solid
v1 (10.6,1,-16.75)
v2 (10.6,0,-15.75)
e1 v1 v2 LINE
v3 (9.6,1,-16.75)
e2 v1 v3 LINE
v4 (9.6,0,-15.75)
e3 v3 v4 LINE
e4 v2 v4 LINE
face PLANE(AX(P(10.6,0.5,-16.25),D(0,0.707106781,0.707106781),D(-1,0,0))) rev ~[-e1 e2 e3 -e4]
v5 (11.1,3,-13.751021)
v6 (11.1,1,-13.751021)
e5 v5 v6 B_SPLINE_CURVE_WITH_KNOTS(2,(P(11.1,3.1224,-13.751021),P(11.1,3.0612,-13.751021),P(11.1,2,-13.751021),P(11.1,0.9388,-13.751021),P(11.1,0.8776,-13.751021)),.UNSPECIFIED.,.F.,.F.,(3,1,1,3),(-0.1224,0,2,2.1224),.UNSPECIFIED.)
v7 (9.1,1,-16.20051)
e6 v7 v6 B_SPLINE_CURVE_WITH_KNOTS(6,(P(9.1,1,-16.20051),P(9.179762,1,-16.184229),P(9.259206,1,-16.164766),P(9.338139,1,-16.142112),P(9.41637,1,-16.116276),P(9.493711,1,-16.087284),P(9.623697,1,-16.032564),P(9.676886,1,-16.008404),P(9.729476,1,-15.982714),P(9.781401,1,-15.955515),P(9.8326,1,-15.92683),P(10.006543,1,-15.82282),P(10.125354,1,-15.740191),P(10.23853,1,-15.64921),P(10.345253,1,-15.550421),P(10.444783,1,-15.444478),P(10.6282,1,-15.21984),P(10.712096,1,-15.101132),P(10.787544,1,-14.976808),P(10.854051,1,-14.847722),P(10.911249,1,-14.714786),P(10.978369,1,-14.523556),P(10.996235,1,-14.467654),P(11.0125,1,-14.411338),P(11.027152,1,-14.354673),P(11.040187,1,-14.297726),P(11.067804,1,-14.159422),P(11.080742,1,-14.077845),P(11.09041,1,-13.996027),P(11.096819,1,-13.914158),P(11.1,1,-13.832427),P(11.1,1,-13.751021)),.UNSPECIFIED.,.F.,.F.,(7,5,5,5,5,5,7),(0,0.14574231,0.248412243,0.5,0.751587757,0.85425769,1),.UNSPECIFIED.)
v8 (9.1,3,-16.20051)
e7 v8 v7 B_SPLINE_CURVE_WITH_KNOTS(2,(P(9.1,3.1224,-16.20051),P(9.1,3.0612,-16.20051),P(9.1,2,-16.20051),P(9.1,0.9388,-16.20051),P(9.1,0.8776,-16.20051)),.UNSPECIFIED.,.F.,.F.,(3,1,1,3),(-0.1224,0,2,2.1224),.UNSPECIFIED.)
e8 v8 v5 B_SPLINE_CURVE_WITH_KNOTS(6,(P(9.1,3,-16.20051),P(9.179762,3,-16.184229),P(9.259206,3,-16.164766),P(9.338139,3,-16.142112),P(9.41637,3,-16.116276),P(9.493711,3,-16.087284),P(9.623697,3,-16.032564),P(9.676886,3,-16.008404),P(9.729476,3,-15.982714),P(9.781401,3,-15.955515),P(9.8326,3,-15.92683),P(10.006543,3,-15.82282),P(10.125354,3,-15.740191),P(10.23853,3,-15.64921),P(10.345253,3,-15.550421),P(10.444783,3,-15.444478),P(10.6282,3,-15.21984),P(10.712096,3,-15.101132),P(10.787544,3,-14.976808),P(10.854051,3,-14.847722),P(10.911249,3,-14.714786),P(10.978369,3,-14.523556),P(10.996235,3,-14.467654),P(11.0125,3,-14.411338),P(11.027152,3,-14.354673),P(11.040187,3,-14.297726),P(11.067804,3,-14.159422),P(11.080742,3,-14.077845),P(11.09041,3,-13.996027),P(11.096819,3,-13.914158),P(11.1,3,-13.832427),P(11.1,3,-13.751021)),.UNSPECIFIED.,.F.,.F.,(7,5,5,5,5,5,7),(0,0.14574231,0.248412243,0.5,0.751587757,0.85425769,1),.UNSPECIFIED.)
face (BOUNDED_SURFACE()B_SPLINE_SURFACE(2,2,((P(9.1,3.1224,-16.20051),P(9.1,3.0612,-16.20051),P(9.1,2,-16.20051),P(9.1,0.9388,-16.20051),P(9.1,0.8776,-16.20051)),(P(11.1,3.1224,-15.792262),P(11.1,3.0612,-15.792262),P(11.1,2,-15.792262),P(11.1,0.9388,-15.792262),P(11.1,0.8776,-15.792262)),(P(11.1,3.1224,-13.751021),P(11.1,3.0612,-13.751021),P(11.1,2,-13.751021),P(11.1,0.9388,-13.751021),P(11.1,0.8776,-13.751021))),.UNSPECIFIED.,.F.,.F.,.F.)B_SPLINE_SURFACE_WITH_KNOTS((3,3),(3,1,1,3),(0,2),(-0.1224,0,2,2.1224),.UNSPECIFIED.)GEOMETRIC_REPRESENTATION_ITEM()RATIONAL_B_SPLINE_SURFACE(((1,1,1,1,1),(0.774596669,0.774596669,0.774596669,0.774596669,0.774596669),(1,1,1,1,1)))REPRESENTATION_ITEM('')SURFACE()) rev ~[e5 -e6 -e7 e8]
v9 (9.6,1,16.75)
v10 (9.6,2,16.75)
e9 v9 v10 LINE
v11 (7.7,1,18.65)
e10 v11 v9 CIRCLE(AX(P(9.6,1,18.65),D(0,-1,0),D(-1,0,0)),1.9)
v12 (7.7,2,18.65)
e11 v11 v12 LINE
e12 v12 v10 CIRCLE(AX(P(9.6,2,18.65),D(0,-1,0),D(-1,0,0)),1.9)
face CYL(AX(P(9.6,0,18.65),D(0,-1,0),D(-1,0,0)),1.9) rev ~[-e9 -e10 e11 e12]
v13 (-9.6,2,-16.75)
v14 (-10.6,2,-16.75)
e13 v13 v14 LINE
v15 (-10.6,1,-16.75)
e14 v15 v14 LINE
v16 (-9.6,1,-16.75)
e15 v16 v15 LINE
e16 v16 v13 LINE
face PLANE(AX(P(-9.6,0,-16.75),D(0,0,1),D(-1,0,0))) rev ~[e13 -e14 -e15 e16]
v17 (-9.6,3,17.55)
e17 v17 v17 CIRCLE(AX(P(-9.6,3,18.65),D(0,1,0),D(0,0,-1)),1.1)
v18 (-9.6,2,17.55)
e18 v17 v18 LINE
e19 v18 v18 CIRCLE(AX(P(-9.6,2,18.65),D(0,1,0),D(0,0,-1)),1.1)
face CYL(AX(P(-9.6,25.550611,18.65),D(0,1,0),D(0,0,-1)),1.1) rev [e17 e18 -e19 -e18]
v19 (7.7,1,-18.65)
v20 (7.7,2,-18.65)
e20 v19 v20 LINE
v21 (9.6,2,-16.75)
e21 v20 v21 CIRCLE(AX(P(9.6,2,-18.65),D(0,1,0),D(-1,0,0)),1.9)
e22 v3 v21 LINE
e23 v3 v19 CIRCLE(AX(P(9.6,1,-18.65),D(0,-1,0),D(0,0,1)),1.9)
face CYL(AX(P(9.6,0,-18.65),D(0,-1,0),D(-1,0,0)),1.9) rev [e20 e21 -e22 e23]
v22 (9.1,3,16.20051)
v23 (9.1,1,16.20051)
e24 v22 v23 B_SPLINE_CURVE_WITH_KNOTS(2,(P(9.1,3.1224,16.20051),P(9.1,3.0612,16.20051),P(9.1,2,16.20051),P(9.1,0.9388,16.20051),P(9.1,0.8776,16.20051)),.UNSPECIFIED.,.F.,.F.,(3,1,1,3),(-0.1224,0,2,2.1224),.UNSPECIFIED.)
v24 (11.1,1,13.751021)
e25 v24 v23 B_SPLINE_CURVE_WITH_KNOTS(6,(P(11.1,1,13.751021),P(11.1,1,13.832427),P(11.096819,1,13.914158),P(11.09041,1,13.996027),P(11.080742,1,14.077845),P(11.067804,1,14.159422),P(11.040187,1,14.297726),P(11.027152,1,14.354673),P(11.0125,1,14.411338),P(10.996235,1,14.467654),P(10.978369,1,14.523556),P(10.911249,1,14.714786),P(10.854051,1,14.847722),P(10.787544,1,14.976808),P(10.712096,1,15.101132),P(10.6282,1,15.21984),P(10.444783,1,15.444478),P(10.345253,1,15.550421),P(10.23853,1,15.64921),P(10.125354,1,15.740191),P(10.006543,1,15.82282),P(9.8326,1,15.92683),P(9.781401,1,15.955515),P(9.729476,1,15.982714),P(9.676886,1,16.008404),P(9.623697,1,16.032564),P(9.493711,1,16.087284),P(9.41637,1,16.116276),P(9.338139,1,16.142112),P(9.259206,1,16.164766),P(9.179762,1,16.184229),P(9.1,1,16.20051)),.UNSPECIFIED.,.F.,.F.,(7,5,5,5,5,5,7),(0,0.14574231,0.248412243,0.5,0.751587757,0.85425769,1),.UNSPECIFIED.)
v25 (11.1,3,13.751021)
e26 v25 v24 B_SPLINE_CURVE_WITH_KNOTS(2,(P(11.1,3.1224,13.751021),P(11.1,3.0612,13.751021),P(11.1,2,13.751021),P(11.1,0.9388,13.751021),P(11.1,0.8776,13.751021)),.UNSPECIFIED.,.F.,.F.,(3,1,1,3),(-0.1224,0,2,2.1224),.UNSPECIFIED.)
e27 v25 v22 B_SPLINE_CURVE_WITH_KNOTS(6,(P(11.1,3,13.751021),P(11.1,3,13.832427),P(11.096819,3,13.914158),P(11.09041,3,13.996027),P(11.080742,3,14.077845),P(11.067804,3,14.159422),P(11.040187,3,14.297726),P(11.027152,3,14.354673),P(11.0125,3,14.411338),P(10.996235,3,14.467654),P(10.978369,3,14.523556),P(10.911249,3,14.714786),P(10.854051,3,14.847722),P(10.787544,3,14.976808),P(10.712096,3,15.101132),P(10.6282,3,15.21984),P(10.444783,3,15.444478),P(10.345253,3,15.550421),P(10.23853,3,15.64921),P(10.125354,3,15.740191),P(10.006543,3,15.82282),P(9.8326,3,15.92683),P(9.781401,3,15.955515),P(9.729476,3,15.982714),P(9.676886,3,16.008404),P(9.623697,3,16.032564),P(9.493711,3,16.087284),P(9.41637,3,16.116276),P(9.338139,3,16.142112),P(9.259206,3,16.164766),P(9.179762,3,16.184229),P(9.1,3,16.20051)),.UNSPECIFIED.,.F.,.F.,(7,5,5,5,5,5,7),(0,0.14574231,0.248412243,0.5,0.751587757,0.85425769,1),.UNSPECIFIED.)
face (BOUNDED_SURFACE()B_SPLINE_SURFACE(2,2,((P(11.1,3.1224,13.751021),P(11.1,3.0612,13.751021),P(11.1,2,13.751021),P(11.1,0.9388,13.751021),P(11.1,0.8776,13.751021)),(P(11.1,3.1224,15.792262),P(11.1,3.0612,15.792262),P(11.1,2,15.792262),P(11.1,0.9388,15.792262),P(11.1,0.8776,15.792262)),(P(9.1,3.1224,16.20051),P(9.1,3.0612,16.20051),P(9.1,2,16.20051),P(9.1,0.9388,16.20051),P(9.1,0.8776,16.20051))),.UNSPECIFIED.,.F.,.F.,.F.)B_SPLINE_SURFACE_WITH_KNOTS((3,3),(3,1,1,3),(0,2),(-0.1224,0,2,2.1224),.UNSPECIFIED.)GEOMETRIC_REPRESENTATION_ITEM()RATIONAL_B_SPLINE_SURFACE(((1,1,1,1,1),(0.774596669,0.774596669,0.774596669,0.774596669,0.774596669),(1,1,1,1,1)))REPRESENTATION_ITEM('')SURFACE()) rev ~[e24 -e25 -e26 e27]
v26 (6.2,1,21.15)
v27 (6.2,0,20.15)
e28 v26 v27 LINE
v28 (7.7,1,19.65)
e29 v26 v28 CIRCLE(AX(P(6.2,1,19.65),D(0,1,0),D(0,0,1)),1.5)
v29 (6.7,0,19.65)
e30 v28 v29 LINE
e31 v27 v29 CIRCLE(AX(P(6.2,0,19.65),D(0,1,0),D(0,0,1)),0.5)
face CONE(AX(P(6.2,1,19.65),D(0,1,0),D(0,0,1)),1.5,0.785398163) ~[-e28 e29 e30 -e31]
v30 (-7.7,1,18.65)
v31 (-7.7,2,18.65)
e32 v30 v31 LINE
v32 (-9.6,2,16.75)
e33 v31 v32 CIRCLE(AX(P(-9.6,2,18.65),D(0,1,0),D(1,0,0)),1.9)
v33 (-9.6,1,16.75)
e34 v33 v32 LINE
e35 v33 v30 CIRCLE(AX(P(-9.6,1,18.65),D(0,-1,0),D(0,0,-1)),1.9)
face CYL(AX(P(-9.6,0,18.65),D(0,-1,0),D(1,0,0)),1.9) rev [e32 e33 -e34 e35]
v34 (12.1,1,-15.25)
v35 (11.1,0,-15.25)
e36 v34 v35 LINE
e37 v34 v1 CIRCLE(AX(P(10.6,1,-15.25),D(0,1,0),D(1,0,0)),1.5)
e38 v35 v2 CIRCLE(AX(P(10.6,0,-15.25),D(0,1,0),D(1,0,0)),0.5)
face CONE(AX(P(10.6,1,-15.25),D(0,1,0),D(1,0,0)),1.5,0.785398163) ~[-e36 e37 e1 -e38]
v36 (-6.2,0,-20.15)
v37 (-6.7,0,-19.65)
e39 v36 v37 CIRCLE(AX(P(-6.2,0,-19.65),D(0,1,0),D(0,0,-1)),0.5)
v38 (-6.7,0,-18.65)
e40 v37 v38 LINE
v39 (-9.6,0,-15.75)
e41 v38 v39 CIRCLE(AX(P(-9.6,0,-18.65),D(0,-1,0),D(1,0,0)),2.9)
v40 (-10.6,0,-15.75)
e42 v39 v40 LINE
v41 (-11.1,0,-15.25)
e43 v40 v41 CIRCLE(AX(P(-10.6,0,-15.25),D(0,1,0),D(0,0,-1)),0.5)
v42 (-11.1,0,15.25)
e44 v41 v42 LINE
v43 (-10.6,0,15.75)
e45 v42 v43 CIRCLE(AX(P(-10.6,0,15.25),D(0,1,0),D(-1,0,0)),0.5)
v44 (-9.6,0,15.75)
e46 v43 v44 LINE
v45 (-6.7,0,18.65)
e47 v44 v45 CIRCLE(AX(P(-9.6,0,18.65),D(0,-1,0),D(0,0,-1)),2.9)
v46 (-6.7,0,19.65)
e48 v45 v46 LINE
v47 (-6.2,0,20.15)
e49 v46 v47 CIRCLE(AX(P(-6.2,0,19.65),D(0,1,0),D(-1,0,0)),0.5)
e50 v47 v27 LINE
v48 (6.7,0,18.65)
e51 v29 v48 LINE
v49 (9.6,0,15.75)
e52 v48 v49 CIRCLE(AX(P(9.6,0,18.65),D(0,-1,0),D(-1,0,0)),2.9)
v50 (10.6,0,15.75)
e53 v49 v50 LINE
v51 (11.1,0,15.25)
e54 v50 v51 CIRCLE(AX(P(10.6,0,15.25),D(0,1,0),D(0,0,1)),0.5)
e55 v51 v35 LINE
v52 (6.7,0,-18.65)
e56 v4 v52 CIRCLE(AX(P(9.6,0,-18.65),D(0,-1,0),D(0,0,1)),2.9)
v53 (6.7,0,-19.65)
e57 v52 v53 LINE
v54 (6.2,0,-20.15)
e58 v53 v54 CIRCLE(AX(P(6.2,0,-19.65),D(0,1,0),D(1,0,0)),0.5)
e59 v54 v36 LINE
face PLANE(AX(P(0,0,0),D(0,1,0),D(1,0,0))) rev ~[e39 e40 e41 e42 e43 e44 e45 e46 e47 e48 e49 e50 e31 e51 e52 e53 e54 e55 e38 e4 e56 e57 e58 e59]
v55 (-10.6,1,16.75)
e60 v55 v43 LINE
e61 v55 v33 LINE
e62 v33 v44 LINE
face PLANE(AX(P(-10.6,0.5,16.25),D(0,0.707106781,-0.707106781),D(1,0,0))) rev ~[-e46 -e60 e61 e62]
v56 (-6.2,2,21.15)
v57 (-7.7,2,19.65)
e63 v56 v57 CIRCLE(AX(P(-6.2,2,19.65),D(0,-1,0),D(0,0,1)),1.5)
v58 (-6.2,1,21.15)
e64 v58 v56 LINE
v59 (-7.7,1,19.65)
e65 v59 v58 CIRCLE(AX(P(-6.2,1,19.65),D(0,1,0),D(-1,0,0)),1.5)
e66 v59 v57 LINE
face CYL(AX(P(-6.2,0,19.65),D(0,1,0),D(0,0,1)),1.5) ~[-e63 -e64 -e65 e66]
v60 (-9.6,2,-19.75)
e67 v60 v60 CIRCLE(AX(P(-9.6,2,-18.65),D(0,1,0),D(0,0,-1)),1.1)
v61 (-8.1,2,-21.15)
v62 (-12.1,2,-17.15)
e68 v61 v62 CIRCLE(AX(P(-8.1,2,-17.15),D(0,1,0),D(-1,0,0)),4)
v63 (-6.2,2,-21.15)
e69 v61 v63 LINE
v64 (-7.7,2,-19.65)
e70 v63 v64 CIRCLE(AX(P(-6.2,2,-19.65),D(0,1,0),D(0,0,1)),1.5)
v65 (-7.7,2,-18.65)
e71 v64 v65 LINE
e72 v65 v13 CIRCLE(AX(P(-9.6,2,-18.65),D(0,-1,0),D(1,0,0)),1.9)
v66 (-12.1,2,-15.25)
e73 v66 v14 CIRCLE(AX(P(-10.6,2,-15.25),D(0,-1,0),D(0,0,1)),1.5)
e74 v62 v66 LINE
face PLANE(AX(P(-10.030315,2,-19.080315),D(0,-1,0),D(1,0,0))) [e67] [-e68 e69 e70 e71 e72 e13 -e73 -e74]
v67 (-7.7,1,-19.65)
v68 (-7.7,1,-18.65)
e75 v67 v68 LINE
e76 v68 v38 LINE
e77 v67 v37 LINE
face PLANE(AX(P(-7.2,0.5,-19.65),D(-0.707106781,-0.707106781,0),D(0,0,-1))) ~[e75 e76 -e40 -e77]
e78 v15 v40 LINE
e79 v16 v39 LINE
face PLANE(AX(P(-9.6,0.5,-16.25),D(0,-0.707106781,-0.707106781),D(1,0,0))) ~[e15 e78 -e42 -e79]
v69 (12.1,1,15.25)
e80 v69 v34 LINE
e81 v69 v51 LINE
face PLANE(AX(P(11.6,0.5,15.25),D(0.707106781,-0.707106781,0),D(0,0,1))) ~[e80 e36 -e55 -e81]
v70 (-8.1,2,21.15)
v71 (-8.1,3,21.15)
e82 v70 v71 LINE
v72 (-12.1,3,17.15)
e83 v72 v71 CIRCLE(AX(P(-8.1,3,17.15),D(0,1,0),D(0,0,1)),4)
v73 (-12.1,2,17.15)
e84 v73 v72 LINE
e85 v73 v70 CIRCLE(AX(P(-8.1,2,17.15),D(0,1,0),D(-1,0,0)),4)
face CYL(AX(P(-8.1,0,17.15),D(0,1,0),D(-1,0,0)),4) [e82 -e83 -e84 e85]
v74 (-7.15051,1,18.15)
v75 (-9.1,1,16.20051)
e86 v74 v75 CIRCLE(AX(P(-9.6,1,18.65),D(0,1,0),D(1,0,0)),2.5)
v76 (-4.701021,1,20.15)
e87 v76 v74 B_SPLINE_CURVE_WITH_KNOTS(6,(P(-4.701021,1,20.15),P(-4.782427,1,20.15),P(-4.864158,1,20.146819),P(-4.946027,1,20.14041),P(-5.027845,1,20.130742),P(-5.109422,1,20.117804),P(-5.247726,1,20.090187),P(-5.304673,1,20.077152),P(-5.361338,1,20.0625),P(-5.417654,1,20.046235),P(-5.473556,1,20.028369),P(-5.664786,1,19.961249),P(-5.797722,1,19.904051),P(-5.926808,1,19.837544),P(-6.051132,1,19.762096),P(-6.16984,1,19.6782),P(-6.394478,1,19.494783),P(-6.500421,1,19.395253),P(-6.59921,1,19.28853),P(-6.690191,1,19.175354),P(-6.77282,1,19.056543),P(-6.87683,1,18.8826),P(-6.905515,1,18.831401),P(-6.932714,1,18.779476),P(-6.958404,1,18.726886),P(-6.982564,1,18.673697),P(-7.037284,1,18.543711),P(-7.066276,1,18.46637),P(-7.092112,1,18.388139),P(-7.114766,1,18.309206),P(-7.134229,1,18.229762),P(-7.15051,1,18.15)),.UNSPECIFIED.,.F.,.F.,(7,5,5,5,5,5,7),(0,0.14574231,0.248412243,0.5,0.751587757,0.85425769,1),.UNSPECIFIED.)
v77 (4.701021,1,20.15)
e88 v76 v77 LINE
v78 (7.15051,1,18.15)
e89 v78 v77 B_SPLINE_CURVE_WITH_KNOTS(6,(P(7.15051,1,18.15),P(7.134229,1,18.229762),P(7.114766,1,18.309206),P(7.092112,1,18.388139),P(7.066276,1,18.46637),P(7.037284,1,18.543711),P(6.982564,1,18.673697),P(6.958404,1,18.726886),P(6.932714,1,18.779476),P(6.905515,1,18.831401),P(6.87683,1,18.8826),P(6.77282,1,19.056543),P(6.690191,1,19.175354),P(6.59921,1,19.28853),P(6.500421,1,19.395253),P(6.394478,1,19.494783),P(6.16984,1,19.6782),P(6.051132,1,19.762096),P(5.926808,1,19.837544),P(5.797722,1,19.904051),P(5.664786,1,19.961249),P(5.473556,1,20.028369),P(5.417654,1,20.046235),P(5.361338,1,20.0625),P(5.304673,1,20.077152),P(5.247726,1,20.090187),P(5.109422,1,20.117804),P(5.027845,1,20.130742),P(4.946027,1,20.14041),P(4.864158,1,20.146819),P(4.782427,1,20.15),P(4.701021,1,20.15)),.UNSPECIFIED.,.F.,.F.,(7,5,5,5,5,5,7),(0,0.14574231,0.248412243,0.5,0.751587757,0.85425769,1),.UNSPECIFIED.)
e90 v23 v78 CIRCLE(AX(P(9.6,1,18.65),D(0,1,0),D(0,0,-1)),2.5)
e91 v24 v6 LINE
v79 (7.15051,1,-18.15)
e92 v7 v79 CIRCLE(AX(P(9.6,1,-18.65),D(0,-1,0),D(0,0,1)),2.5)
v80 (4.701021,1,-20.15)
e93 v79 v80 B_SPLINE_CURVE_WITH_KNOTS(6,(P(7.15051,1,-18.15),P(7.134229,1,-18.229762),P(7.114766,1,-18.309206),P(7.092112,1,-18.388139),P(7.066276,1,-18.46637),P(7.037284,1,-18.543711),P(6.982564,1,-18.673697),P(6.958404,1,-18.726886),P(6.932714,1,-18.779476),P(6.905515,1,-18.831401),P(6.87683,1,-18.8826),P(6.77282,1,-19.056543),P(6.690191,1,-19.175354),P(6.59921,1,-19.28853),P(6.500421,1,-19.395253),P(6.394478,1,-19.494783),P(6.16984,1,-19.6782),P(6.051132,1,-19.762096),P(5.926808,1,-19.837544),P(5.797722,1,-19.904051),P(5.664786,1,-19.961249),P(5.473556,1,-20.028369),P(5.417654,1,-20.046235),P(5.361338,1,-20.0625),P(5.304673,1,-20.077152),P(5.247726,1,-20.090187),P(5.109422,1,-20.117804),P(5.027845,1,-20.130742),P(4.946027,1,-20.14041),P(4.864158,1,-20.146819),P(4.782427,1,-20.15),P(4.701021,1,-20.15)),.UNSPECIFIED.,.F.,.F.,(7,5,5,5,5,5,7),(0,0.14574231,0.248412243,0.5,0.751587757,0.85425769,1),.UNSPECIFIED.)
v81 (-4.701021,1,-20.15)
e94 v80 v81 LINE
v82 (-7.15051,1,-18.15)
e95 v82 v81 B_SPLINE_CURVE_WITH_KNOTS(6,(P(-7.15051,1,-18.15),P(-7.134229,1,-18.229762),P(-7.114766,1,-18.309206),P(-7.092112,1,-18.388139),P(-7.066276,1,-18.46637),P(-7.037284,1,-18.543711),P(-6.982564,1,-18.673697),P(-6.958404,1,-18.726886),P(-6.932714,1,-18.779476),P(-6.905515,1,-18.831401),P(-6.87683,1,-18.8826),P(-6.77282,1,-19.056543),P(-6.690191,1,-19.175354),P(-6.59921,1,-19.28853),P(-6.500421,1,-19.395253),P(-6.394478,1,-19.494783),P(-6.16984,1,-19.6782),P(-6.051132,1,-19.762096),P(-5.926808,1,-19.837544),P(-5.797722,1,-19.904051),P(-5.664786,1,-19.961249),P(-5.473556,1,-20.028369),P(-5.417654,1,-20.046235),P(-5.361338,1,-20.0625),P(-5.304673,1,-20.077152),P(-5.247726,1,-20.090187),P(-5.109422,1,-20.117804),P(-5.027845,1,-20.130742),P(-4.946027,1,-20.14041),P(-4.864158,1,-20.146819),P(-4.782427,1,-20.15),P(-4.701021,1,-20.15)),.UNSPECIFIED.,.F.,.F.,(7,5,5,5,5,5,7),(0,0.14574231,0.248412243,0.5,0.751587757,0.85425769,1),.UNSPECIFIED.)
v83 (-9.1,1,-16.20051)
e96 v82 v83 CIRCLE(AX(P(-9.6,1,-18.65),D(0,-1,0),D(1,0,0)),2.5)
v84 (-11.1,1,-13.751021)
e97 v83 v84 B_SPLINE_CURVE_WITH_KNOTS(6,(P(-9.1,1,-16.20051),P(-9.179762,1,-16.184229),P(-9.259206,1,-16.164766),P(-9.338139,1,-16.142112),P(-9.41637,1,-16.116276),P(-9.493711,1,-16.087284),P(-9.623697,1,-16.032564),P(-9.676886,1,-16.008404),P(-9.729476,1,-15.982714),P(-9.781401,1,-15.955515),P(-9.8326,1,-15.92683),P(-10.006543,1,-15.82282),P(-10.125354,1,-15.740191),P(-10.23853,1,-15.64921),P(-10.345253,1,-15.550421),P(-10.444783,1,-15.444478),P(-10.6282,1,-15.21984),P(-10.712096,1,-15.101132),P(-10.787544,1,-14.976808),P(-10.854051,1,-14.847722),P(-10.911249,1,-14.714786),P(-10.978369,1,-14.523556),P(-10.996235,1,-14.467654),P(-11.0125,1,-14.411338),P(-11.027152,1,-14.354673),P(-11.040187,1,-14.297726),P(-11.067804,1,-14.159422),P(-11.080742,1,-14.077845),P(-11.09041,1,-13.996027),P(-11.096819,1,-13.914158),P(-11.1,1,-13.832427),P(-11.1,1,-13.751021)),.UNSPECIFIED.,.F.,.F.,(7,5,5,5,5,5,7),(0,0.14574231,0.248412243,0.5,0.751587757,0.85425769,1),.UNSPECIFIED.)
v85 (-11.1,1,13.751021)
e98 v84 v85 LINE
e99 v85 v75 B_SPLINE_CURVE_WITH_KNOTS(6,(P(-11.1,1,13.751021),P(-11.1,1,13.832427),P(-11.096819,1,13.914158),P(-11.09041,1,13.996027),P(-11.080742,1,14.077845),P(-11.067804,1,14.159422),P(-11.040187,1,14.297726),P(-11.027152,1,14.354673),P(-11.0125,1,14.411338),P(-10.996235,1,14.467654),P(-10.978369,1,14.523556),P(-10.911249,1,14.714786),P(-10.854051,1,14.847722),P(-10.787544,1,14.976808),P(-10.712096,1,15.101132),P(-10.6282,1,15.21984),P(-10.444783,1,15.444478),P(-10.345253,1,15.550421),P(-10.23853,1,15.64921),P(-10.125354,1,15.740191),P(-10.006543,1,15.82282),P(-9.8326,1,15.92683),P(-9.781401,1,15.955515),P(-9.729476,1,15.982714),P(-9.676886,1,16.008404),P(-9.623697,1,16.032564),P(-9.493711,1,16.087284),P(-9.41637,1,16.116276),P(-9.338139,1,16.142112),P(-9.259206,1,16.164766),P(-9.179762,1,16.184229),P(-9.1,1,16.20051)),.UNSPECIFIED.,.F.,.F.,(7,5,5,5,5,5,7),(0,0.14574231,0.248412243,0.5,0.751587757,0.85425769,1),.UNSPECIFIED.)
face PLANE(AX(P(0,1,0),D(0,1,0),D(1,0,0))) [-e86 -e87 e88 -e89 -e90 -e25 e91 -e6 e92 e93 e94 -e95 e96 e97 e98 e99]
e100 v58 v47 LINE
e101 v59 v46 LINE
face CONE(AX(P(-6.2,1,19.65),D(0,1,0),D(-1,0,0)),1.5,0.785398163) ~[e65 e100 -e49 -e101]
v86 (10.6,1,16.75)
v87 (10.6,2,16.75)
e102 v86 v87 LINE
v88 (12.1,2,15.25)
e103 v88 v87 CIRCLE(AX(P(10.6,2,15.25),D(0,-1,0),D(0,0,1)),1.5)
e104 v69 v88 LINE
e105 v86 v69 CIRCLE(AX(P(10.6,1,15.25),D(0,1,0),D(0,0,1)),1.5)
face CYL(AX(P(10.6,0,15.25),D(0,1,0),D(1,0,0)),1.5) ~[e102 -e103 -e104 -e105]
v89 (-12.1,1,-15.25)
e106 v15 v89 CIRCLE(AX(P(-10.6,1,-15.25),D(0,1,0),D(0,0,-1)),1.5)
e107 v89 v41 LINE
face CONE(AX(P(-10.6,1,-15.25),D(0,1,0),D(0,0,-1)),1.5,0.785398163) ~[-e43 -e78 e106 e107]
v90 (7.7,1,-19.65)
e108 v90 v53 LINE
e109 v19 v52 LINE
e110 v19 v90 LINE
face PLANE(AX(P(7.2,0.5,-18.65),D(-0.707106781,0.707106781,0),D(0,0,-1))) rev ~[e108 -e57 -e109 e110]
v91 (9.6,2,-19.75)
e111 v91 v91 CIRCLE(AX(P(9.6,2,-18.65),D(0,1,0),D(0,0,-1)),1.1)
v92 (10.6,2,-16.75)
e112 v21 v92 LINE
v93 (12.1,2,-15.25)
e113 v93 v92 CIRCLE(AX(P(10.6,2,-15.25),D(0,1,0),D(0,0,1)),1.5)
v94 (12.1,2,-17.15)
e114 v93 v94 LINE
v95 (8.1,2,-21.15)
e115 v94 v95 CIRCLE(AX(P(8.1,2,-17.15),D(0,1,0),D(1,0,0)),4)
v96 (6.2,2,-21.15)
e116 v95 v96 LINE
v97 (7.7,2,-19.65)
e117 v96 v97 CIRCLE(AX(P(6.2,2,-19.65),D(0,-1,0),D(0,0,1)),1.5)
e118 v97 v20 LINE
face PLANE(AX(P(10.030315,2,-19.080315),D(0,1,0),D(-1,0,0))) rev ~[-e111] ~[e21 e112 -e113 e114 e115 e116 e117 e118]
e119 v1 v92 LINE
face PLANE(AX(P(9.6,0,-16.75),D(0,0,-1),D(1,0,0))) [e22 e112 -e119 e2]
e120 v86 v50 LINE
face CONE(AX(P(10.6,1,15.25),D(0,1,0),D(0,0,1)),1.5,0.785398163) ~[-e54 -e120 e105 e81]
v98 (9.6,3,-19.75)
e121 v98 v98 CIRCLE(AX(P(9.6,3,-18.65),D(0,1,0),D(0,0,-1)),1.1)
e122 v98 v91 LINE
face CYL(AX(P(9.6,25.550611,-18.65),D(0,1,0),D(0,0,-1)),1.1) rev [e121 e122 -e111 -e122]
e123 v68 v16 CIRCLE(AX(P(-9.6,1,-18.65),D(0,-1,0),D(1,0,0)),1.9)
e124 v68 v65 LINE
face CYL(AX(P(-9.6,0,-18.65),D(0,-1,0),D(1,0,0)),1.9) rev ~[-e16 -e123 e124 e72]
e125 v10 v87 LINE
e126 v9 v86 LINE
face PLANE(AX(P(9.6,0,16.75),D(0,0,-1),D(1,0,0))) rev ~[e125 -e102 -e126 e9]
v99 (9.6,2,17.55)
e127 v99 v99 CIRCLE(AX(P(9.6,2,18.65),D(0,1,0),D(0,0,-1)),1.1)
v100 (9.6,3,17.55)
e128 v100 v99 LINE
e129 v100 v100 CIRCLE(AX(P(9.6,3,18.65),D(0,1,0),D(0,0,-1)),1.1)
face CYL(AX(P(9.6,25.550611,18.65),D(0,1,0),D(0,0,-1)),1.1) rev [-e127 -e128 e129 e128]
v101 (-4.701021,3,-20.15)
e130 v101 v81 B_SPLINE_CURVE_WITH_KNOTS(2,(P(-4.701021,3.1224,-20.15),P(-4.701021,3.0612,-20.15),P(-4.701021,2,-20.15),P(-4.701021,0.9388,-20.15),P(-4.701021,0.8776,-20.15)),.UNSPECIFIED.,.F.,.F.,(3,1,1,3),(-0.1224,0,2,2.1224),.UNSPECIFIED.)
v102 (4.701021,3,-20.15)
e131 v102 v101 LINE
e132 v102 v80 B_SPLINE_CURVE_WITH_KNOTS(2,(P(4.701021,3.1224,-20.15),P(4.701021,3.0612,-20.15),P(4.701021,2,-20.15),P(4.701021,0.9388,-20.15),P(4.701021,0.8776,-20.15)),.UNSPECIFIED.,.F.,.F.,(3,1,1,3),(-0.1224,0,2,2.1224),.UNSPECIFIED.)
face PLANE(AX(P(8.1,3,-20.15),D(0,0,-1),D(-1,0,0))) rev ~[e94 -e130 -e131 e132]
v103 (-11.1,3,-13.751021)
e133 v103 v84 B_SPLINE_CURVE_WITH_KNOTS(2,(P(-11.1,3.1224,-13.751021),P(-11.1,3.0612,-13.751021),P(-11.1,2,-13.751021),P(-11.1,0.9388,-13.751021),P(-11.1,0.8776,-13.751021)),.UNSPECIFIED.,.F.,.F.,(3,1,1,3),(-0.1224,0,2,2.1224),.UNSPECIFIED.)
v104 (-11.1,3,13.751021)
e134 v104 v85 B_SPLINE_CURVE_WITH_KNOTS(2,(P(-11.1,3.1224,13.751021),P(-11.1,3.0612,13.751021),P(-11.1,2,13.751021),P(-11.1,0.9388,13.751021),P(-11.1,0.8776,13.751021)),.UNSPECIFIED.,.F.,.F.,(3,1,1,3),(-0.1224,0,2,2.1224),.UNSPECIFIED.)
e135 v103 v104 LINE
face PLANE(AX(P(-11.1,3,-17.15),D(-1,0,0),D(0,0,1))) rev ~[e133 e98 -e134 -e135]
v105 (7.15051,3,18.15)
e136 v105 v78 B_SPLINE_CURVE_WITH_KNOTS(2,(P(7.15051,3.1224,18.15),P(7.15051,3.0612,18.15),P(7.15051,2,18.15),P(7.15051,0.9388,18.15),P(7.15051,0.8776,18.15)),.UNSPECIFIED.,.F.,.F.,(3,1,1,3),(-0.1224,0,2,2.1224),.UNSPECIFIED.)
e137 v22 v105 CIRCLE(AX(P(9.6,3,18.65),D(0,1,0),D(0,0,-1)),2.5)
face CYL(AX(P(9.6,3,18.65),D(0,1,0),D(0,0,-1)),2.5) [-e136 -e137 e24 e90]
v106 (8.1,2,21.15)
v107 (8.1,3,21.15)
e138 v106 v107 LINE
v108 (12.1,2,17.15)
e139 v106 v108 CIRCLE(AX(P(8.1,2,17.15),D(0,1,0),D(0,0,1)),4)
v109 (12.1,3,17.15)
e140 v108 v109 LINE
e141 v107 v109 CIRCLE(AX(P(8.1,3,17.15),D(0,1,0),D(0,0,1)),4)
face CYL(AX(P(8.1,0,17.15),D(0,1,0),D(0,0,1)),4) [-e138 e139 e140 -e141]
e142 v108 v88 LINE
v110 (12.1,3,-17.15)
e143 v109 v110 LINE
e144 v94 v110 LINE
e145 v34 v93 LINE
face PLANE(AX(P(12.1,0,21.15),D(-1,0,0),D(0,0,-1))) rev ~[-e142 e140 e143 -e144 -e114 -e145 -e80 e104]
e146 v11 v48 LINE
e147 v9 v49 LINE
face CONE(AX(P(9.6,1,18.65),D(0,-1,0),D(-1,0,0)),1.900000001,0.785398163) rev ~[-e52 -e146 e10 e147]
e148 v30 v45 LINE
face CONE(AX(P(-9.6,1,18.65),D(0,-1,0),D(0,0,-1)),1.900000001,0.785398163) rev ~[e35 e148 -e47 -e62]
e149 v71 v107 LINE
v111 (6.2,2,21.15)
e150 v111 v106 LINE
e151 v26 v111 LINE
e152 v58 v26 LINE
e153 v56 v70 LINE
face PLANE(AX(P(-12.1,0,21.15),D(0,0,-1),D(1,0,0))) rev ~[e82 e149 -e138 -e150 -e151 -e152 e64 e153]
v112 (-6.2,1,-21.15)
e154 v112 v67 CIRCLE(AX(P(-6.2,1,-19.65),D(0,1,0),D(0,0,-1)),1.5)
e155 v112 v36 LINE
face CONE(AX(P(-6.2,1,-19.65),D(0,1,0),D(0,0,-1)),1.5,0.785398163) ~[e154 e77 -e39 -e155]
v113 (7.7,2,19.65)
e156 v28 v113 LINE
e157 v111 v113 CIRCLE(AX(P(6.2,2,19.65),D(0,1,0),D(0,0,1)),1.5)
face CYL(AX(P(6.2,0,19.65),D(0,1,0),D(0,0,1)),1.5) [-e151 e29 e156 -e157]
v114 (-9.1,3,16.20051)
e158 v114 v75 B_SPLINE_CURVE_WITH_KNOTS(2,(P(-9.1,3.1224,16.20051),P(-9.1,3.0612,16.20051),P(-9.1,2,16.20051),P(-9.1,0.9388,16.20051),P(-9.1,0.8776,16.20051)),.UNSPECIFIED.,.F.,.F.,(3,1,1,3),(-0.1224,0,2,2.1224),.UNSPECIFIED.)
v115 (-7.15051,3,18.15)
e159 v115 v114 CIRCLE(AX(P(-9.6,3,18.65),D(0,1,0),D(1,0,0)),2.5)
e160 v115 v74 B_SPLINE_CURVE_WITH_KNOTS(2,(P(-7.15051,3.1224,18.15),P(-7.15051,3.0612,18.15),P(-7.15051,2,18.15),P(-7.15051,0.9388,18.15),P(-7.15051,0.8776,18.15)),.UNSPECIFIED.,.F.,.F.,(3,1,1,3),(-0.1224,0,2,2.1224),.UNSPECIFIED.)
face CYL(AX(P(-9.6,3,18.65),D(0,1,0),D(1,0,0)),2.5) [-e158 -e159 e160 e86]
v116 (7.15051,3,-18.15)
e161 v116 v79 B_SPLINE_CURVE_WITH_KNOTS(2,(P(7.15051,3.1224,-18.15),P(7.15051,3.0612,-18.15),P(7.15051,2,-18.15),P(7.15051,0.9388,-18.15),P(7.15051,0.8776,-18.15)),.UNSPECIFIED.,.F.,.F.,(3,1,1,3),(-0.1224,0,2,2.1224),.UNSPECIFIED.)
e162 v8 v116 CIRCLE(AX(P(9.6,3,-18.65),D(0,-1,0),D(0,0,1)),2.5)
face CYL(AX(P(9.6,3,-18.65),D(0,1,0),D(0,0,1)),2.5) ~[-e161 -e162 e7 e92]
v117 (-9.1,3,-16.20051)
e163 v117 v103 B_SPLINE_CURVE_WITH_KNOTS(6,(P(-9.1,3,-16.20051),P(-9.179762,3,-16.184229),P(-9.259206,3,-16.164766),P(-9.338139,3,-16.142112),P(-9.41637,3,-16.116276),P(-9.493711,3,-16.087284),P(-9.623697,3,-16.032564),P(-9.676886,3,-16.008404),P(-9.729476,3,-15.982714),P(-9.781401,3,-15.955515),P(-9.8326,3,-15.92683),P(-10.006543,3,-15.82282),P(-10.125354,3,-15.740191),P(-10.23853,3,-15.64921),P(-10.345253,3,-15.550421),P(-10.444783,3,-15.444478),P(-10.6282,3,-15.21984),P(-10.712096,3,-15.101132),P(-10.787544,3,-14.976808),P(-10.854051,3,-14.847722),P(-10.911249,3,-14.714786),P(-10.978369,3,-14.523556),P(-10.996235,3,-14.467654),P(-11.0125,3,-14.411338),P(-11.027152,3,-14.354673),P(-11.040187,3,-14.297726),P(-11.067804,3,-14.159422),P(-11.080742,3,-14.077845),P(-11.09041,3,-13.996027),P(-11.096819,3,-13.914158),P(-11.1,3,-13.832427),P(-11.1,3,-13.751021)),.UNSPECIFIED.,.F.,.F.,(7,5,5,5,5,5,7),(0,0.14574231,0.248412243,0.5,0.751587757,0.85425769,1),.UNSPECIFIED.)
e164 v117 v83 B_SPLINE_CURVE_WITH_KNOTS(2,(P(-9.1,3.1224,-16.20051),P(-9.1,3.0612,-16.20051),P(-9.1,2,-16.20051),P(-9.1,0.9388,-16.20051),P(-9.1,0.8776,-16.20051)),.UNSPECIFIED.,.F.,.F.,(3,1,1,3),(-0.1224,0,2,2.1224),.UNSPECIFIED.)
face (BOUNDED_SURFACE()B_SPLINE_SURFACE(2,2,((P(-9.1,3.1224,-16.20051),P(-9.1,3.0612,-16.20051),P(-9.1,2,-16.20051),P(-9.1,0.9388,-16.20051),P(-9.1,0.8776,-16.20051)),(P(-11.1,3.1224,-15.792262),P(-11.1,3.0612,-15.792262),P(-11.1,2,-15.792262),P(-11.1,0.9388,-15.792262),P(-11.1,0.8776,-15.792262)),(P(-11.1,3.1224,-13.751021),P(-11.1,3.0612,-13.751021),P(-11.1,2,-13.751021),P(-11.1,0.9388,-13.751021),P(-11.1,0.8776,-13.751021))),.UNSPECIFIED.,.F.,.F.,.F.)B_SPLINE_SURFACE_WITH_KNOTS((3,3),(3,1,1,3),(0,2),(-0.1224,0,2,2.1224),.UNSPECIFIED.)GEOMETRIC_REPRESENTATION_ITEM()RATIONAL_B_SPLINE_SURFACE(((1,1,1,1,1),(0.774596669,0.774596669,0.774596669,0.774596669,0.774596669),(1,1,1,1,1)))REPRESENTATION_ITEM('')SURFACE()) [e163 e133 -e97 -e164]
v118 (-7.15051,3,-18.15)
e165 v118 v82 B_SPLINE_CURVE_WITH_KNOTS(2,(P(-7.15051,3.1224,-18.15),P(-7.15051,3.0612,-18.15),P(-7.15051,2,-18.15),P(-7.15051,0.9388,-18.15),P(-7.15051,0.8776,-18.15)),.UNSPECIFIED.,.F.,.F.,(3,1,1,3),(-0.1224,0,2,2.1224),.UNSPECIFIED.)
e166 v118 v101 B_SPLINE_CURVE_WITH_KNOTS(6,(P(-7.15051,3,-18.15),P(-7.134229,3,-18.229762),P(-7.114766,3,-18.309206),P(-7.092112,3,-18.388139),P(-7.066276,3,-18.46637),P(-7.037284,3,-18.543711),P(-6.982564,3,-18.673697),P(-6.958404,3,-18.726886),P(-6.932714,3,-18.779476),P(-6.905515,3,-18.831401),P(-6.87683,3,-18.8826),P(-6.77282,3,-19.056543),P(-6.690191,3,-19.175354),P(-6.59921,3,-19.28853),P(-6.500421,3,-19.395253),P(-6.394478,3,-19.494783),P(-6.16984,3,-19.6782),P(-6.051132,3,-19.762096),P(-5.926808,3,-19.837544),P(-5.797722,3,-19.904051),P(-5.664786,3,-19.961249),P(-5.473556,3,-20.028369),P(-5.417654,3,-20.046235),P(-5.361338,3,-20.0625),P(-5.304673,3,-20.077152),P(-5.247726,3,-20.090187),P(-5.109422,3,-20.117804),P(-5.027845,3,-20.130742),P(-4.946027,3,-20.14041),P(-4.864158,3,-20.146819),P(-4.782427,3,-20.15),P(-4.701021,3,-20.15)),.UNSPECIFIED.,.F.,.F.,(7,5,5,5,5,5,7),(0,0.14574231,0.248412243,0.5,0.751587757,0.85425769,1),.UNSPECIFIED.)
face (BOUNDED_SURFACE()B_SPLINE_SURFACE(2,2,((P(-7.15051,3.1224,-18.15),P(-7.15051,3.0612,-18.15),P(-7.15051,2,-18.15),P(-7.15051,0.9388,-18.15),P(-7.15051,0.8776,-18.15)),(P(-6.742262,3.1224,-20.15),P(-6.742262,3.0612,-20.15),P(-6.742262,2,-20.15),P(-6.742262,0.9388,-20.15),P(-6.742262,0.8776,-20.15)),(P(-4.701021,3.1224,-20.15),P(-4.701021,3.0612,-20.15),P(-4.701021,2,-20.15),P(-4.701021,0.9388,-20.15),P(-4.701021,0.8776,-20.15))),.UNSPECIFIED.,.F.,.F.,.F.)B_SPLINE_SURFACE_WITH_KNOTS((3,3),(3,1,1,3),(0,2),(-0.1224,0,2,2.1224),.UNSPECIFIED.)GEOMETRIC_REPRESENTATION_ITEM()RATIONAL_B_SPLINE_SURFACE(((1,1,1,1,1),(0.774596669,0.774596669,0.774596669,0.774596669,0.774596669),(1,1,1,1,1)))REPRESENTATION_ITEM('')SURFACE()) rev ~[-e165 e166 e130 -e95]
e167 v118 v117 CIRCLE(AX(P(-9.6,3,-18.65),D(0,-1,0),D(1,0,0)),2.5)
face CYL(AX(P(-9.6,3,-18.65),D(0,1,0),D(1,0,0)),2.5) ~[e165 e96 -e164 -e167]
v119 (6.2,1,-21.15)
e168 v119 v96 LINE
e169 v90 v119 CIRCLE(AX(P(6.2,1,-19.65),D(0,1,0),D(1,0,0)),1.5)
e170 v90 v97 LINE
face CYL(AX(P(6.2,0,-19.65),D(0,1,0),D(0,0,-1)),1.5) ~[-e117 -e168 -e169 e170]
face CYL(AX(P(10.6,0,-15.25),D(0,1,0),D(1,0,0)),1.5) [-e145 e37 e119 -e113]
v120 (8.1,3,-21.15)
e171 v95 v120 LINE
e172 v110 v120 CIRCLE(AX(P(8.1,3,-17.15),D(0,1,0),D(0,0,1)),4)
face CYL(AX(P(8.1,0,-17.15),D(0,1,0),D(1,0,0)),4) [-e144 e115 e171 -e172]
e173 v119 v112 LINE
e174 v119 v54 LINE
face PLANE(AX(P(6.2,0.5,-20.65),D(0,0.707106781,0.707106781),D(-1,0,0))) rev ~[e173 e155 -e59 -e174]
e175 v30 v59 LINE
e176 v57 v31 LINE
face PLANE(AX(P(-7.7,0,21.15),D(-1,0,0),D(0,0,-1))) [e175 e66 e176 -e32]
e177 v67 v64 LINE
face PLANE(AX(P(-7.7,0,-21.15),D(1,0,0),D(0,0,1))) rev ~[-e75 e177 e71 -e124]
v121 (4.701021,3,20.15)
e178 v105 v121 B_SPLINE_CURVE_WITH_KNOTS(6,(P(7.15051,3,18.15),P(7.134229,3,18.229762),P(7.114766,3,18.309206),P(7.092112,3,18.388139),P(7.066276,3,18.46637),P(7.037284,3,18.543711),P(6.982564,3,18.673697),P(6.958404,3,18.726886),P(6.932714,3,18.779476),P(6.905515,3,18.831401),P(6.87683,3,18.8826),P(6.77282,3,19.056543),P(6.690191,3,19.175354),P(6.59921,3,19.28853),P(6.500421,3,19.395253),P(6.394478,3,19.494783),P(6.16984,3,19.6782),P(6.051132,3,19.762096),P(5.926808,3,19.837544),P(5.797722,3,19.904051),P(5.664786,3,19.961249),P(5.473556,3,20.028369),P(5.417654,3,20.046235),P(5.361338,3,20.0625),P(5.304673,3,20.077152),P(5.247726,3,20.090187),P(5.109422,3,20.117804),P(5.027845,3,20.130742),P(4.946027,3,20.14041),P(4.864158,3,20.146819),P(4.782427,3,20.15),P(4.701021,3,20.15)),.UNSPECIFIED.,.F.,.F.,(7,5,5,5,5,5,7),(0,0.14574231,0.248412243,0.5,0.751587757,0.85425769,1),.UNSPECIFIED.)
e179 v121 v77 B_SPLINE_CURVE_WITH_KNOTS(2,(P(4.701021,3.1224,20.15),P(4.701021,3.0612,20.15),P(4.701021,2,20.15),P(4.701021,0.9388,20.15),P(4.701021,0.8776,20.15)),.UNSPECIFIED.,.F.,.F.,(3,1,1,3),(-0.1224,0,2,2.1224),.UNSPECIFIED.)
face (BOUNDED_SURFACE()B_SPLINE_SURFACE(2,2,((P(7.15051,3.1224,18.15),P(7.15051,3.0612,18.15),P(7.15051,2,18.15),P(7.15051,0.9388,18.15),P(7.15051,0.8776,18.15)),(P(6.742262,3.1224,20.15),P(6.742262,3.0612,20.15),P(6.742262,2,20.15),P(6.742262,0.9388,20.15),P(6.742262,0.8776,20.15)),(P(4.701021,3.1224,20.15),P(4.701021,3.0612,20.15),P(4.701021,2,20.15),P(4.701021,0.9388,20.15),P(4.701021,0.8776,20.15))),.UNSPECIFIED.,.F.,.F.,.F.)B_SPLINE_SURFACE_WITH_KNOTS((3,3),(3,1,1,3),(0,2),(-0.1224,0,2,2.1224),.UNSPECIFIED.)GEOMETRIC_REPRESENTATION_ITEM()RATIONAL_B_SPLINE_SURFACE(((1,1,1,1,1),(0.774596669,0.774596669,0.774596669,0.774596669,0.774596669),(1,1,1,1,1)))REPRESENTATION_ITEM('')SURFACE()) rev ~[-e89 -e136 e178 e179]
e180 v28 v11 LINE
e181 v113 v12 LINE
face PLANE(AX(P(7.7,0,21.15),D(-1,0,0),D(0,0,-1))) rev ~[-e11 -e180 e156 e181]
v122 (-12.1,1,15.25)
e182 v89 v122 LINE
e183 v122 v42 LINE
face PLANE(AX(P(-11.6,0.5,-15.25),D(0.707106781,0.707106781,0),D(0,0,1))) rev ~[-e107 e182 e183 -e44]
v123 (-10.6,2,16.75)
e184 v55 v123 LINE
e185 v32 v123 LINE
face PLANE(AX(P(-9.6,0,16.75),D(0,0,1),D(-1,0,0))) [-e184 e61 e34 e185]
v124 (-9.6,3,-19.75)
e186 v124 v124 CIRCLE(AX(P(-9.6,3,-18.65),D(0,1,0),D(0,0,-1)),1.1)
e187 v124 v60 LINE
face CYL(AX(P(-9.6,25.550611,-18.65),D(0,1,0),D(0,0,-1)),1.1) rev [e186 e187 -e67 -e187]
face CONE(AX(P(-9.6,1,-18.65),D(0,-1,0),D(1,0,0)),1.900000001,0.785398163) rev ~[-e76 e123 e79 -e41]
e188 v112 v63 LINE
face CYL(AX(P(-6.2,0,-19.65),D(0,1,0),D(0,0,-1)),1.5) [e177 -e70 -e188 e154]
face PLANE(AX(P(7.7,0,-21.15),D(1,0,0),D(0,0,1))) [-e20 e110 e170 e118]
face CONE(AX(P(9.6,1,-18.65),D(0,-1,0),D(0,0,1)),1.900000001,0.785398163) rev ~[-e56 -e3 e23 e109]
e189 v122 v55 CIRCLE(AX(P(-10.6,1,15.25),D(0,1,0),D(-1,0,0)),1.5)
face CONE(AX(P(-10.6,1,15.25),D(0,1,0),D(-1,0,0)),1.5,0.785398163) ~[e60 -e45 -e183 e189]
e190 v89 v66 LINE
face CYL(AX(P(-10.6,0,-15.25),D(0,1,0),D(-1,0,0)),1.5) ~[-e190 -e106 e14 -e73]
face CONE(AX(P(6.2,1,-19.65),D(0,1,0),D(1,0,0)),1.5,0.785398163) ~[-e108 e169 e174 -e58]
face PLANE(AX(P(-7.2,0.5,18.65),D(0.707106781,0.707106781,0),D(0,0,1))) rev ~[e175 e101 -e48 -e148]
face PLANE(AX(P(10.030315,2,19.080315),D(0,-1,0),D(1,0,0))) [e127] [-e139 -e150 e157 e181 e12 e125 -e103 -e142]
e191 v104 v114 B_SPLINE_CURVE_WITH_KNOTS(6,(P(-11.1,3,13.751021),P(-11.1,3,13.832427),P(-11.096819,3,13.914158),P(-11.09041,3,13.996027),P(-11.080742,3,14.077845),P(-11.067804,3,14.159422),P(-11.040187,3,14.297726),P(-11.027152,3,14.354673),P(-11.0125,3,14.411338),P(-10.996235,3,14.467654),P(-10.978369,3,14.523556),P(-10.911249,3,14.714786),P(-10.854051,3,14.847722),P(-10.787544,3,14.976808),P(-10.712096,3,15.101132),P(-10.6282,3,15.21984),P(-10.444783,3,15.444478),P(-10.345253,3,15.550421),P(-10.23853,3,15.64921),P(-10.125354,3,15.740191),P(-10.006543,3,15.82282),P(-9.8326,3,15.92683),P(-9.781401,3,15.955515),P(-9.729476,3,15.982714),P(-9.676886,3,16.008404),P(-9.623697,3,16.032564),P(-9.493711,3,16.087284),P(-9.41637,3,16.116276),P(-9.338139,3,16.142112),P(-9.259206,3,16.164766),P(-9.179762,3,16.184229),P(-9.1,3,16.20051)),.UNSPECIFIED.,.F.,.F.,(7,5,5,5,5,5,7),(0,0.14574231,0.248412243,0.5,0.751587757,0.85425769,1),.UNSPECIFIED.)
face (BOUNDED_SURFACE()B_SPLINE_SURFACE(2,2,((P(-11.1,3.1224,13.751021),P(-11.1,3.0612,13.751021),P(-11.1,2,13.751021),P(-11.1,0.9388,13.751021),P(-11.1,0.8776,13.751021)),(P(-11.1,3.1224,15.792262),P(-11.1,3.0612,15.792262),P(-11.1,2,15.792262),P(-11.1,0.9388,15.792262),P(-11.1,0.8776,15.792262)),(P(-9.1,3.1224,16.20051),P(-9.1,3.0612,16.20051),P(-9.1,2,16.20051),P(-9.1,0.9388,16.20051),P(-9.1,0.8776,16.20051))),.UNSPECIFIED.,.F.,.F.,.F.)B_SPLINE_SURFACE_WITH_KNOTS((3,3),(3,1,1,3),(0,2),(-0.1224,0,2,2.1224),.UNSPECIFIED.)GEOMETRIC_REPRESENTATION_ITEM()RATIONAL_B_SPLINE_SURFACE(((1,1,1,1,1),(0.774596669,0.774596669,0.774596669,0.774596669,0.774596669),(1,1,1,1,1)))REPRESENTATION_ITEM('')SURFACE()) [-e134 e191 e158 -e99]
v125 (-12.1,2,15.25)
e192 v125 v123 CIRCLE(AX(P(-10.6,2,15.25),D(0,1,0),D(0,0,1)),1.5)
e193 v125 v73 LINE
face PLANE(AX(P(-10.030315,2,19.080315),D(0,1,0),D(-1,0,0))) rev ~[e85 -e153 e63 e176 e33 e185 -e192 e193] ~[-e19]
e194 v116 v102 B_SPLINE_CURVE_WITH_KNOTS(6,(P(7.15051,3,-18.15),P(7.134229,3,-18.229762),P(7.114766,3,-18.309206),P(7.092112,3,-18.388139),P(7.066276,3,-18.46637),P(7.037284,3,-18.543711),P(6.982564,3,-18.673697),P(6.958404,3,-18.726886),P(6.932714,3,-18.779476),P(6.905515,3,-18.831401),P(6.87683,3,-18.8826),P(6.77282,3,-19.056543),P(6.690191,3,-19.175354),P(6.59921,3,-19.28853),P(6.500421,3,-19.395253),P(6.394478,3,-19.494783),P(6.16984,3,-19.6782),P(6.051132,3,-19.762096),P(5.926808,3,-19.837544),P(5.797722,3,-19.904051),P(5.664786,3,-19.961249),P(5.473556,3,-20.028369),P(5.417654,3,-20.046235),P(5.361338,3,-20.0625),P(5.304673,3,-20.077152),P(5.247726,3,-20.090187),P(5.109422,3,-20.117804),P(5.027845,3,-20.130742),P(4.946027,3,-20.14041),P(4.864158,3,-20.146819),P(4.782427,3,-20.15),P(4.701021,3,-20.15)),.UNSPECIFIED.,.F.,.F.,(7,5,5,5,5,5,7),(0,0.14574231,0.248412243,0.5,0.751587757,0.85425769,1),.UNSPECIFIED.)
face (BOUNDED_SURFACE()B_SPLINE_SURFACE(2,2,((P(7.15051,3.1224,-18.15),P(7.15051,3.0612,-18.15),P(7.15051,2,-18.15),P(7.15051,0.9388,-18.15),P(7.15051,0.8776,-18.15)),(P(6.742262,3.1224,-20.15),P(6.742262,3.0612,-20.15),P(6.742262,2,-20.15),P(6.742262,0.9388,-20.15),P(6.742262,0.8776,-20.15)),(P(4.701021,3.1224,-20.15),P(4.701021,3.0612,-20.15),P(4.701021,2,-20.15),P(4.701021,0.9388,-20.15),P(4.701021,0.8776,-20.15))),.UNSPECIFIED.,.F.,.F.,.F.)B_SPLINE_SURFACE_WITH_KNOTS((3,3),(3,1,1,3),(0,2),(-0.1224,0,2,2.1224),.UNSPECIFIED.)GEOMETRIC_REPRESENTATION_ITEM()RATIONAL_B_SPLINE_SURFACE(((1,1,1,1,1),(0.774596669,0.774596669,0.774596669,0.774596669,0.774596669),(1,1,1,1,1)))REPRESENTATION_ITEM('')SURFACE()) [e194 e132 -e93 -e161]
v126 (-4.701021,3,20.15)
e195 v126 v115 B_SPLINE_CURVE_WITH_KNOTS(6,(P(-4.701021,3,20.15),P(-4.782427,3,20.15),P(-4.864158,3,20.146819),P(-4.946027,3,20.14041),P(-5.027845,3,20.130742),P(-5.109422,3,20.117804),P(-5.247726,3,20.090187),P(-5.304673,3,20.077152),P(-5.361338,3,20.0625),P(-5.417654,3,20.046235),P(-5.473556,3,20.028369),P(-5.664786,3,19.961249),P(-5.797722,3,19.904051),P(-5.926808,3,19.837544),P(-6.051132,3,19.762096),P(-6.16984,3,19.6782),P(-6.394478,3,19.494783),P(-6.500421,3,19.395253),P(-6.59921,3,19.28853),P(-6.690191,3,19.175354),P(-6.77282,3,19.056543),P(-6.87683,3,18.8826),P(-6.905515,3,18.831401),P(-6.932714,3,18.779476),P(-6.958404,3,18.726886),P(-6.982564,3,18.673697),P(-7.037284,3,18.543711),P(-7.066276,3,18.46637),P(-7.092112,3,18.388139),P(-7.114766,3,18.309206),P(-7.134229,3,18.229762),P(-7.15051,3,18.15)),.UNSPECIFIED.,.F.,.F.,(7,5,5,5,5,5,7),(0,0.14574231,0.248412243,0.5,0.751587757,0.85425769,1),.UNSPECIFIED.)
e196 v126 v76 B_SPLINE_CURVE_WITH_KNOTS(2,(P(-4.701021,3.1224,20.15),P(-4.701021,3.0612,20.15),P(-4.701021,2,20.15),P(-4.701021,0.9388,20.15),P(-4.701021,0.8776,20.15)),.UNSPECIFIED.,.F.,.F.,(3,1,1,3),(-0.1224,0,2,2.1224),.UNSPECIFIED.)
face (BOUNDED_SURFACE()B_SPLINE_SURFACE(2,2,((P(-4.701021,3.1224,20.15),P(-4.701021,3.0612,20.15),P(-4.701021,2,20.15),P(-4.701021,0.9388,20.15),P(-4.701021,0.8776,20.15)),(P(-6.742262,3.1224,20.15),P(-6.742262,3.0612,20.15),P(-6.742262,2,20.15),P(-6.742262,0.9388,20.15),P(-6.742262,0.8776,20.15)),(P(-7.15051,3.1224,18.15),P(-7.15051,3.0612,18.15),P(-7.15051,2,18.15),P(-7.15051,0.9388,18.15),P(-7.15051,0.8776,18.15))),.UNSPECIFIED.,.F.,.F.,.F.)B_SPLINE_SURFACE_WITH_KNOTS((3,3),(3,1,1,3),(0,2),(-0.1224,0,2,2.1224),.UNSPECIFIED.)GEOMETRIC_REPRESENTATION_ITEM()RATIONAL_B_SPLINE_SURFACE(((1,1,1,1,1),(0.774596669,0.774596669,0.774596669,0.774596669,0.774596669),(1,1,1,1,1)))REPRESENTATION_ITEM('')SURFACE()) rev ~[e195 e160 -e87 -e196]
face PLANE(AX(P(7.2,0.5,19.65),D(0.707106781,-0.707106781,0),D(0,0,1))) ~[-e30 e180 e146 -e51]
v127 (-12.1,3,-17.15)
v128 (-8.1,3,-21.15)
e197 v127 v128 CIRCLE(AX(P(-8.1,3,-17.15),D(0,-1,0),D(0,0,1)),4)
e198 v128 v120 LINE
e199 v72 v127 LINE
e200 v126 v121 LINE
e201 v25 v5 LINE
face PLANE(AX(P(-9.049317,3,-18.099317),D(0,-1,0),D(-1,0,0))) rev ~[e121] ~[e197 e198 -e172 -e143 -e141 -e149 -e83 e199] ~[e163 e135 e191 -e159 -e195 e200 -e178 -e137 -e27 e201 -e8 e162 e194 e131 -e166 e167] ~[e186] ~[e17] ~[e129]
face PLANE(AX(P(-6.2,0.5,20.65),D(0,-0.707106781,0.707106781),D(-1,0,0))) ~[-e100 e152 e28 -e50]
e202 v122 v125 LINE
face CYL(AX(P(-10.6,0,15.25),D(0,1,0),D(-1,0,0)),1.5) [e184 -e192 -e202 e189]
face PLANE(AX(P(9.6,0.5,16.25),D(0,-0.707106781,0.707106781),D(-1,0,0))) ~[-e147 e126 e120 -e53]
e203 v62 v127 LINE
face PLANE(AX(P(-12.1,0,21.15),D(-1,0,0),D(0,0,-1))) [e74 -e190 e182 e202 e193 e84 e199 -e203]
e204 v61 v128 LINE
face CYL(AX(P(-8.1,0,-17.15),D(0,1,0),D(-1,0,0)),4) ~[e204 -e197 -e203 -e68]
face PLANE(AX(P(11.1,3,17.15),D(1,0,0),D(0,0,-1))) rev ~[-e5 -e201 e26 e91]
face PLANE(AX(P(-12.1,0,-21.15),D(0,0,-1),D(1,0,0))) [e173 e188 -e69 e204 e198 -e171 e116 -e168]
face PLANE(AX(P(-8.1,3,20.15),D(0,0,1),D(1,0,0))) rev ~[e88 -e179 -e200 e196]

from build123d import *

# Parameters (mm, degrees)
SKETCH_1_W               = 24.2
SKETCH_1_H               = 42.3
EXTRUDE_1_DEPTH          = 3
FILLET_1_R               = 4
CUT_EXTRUDE_1_DEPTH      = 2
EXTRUDE_START            = 2
EXTRUDE_2_DEPTH          = 2
FILLET_2_R               = 2.5
CUT_EXTRUDE_2_DEPTH      = 25.550611138
CUT_EXTRUDE_2_DEPTH_BACK = 25.550611138
SKETCH_4_R               = 1.1
CUT_EXTRUDE_3_DEPTH      = 2
FILLET_3_R               = 1.5
CHAMFER_1_SIZE           = 1


with BuildPart() as part:
    # 草图1 → 凸台-拉伸1 (new body)
    with BuildSketch(Plane(origin=(0, 0, 0), x_dir=(1, 0, 0), z_dir=(0, 1, 0))):
        Rectangle(SKETCH_1_W, SKETCH_1_H)
    extrude(amount=EXTRUDE_1_DEPTH)

    # 圆角1
    fillet_1_edges = [part.edges().sort_by_distance(p)[0] for p in [
        (12.1, 1.5, 21.15),
        (-12.1, 1.5, 21.15),
        (-12.1, 1.5, -21.15),
        (12.1, 1.5, -21.15),
    ]]
    fillet(fillet_1_edges, radius=FILLET_1_R)

    # 草图2 → 切除-拉伸1 (cut)
    with BuildSketch(Plane(origin=(0, 3, 0), x_dir=(1, 0, 0), z_dir=(0, 1, 0))):
        with BuildLine():
            Line((8.1, 20.15), (-8.1, 20.15))
            ThreePointArc((-8.1, 20.15), (-10.221320344, 19.271320344), (-11.1, 17.15))
            Line((-11.1, 17.15), (-11.1, -17.15))
            ThreePointArc((-11.1, -17.15), (-10.221320344, -19.271320344), (-8.1, -20.15))
            Line((-8.1, -20.15), (8.1, -20.15))
            ThreePointArc((8.1, -20.15), (10.221320344, -19.271320344), (11.1, -17.15))
            Line((11.1, -17.15), (11.1, 17.15))
            ThreePointArc((11.1, 17.15), (10.221320344, 19.271320344), (8.1, 20.15))
        make_face()
    extrude(amount=-CUT_EXTRUDE_1_DEPTH, mode=Mode.SUBTRACT)

    # 草图3 → 凸台-拉伸2 (add)
    with BuildSketch(Plane(origin=(0, 1, 0), x_dir=(1, 0, 0), z_dir=(0, 1, 0)).offset(EXTRUDE_START)):
        with BuildLine():
            Line((-9.6, 16.15), (-11.1, 16.15))
            Line((-11.1, 16.15), (-11.1, 17.15))
            ThreePointArc((-11.1, 17.15), (-10.221320344, 19.271320344), (-8.1, 20.15))
            Line((-8.1, 20.15), (-7.1, 20.15))
            Line((-7.1, 20.15), (-7.1, 18.65))
            ThreePointArc((-7.1, 18.65), (-7.832233047, 16.882233047), (-9.6, 16.15))
        make_face()
        with BuildLine():
            Line((7.1, 18.65), (7.1, 20.15))
            Line((7.1, 20.15), (8.1, 20.15))
            ThreePointArc((8.1, 20.15), (10.221320344, 19.271320344), (11.1, 17.15))
            Line((11.1, 17.15), (11.1, 16.15))
            Line((11.1, 16.15), (9.6, 16.15))
            ThreePointArc((9.6, 16.15), (7.832233047, 16.882233047), (7.1, 18.65))
        make_face()
        with BuildLine():
            Line((-8.1, -20.15), (-7.1, -20.15))
            Line((-7.1, -20.15), (-7.1, -18.65))
            ThreePointArc((-7.1, -18.65), (-7.832233047, -16.882233047), (-9.6, -16.15))
            Line((-9.6, -16.15), (-11.1, -16.15))
            Line((-11.1, -16.15), (-11.1, -17.15))
            ThreePointArc((-11.1, -17.15), (-10.221320344, -19.271320344), (-8.1, -20.15))
        make_face()
        with BuildLine():
            Line((11.1, -17.15), (11.1, -16.15))
            Line((11.1, -16.15), (9.6, -16.15))
            ThreePointArc((9.6, -16.15), (7.832233047, -16.882233047), (7.1, -18.65))
            Line((7.1, -18.65), (7.1, -20.15))
            Line((7.1, -20.15), (8.1, -20.15))
            ThreePointArc((8.1, -20.15), (10.221320344, -19.271320344), (11.1, -17.15))
        make_face()
    extrude(amount=-EXTRUDE_2_DEPTH)

    # 圆角2
    fillet_2_edges = [part.edges().sort_by_distance(p)[0] for p in [
        (7.1, 2, 20.15),
        (11.1, 2, 16.15),
        (11.1, 2, -16.15),
        (7.1, 2, -20.15),
        (-7.1, 2, -20.15),
        (-11.1, 2, 16.15),
        (-7.1, 2, 20.15),
        (-11.1, 2, -16.15),
    ]]
    fillet(fillet_2_edges, radius=FILLET_2_R)

    # 草图4 → 切除-拉伸2 (cut, two sides: drawn at the far end of the back side and taken through both)
    with BuildSketch(Plane.XZ.offset(-CUT_EXTRUDE_2_DEPTH_BACK)):
        with Locations(Location((-9.6, 18.65, 0), (0, 0, 270))):
            Circle(SKETCH_4_R)
        with Locations(Location((9.6, 18.65, 0), (0, 0, 270))):
            Circle(SKETCH_4_R)
        with Locations(Location((9.6, -18.65, 0), (0, 0, 270))):
            Circle(SKETCH_4_R)
        with Locations(Location((-9.6, -18.65, 0), (0, 0, 270))):
            Circle(SKETCH_4_R)
    extrude(amount=CUT_EXTRUDE_2_DEPTH + CUT_EXTRUDE_2_DEPTH_BACK, mode=Mode.SUBTRACT)

    # 草图5 → 切除-拉伸3 (cut)
    with BuildSketch(Plane.XZ):
        with BuildLine():
            Line((-9.6, 16.75), (-12.1, 16.75))
            Line((-12.1, 16.75), (-12.1, 21.15))
            Line((-12.1, 21.15), (-7.7, 21.15))
            Line((-7.7, 21.15), (-7.7, 18.65))
            ThreePointArc((-7.7, 18.65), (-8.256497116, 17.306497116), (-9.6, 16.75))
        make_face()
        with BuildLine():
            Line((9.6, 16.75), (12.1, 16.75))
            Line((12.1, 16.75), (12.1, 21.15))
            Line((12.1, 21.15), (7.7, 21.15))
            Line((7.7, 21.15), (7.7, 18.65))
            ThreePointArc((7.7, 18.65), (8.256497116, 17.306497116), (9.6, 16.75))
        make_face()
        with BuildLine():
            Line((9.6, -16.75), (12.1, -16.75))
            Line((12.1, -16.75), (12.1, -21.15))
            Line((12.1, -21.15), (7.7, -21.15))
            Line((7.7, -21.15), (7.7, -18.65))
            ThreePointArc((7.7, -18.65), (8.256497116, -17.306497116), (9.6, -16.75))
        make_face()
        with BuildLine():
            Line((-9.6, -16.75), (-12.1, -16.75))
            Line((-12.1, -16.75), (-12.1, -21.15))
            Line((-12.1, -21.15), (-7.7, -21.15))
            Line((-7.7, -21.15), (-7.7, -18.65))
            ThreePointArc((-7.7, -18.65), (-8.256497116, -17.306497116), (-9.6, -16.75))
        make_face()
    extrude(amount=-CUT_EXTRUDE_3_DEPTH, mode=Mode.SUBTRACT)

    # 圆角3
    fillet_3_edges = [part.edges().sort_by_distance(p)[0] for p in [
        (-7.7, 1, -21.15),
        (-12.1, 1, -16.75),
        (12.1, 1, -16.75),
        (7.7, 1, -21.15),
        (7.7, 1, 21.15),
        (12.1, 1, 16.75),
        (-12.1, 1, 16.75),
        (-7.7, 1, 21.15),
    ]]
    fillet(fillet_3_edges, radius=FILLET_3_R)

    # 倒角1
    chamfer_1_edges = [part.edges().sort_by_distance(p)[0] for p in [
        (-8.256497116, 0, -17.306497116),
        (-10.1, 0, -16.75),
        (8.256497116, 0, -17.306497116),
        (7.7, 0, -19.15),
        (8.256497116, 0, 17.306497116),
        (10.1, 0, 16.75),
        (-8.256497116, 0, 17.306497116),
        (-7.7, 0, 19.15),
        (-12.1, 0, 0),
        (-7.7, 0, -19.15),
        (0, 0, -21.15),
        (10.1, 0, -16.75),
        (12.1, 0, 0),
        (7.7, 0, 19.15),
        (0, 0, 21.15),
        (-10.1, 0, 16.75),
        (-11.660660172, 0, 16.310660172),
        (-7.260660172, 0, -20.710660172),
        (7.260660172, 0, -20.710660172),
        (11.660660172, 0, -16.310660172),
        (11.660660172, 0, 16.310660172),
        (7.260660172, 0, 20.710660172),
        (-7.260660172, 0, 20.710660172),
        (-11.660660172, 0, -16.310660172),
    ]]
    chamfer(chamfer_1_edges, length=CHAMFER_1_SIZE)


solid = part.part
